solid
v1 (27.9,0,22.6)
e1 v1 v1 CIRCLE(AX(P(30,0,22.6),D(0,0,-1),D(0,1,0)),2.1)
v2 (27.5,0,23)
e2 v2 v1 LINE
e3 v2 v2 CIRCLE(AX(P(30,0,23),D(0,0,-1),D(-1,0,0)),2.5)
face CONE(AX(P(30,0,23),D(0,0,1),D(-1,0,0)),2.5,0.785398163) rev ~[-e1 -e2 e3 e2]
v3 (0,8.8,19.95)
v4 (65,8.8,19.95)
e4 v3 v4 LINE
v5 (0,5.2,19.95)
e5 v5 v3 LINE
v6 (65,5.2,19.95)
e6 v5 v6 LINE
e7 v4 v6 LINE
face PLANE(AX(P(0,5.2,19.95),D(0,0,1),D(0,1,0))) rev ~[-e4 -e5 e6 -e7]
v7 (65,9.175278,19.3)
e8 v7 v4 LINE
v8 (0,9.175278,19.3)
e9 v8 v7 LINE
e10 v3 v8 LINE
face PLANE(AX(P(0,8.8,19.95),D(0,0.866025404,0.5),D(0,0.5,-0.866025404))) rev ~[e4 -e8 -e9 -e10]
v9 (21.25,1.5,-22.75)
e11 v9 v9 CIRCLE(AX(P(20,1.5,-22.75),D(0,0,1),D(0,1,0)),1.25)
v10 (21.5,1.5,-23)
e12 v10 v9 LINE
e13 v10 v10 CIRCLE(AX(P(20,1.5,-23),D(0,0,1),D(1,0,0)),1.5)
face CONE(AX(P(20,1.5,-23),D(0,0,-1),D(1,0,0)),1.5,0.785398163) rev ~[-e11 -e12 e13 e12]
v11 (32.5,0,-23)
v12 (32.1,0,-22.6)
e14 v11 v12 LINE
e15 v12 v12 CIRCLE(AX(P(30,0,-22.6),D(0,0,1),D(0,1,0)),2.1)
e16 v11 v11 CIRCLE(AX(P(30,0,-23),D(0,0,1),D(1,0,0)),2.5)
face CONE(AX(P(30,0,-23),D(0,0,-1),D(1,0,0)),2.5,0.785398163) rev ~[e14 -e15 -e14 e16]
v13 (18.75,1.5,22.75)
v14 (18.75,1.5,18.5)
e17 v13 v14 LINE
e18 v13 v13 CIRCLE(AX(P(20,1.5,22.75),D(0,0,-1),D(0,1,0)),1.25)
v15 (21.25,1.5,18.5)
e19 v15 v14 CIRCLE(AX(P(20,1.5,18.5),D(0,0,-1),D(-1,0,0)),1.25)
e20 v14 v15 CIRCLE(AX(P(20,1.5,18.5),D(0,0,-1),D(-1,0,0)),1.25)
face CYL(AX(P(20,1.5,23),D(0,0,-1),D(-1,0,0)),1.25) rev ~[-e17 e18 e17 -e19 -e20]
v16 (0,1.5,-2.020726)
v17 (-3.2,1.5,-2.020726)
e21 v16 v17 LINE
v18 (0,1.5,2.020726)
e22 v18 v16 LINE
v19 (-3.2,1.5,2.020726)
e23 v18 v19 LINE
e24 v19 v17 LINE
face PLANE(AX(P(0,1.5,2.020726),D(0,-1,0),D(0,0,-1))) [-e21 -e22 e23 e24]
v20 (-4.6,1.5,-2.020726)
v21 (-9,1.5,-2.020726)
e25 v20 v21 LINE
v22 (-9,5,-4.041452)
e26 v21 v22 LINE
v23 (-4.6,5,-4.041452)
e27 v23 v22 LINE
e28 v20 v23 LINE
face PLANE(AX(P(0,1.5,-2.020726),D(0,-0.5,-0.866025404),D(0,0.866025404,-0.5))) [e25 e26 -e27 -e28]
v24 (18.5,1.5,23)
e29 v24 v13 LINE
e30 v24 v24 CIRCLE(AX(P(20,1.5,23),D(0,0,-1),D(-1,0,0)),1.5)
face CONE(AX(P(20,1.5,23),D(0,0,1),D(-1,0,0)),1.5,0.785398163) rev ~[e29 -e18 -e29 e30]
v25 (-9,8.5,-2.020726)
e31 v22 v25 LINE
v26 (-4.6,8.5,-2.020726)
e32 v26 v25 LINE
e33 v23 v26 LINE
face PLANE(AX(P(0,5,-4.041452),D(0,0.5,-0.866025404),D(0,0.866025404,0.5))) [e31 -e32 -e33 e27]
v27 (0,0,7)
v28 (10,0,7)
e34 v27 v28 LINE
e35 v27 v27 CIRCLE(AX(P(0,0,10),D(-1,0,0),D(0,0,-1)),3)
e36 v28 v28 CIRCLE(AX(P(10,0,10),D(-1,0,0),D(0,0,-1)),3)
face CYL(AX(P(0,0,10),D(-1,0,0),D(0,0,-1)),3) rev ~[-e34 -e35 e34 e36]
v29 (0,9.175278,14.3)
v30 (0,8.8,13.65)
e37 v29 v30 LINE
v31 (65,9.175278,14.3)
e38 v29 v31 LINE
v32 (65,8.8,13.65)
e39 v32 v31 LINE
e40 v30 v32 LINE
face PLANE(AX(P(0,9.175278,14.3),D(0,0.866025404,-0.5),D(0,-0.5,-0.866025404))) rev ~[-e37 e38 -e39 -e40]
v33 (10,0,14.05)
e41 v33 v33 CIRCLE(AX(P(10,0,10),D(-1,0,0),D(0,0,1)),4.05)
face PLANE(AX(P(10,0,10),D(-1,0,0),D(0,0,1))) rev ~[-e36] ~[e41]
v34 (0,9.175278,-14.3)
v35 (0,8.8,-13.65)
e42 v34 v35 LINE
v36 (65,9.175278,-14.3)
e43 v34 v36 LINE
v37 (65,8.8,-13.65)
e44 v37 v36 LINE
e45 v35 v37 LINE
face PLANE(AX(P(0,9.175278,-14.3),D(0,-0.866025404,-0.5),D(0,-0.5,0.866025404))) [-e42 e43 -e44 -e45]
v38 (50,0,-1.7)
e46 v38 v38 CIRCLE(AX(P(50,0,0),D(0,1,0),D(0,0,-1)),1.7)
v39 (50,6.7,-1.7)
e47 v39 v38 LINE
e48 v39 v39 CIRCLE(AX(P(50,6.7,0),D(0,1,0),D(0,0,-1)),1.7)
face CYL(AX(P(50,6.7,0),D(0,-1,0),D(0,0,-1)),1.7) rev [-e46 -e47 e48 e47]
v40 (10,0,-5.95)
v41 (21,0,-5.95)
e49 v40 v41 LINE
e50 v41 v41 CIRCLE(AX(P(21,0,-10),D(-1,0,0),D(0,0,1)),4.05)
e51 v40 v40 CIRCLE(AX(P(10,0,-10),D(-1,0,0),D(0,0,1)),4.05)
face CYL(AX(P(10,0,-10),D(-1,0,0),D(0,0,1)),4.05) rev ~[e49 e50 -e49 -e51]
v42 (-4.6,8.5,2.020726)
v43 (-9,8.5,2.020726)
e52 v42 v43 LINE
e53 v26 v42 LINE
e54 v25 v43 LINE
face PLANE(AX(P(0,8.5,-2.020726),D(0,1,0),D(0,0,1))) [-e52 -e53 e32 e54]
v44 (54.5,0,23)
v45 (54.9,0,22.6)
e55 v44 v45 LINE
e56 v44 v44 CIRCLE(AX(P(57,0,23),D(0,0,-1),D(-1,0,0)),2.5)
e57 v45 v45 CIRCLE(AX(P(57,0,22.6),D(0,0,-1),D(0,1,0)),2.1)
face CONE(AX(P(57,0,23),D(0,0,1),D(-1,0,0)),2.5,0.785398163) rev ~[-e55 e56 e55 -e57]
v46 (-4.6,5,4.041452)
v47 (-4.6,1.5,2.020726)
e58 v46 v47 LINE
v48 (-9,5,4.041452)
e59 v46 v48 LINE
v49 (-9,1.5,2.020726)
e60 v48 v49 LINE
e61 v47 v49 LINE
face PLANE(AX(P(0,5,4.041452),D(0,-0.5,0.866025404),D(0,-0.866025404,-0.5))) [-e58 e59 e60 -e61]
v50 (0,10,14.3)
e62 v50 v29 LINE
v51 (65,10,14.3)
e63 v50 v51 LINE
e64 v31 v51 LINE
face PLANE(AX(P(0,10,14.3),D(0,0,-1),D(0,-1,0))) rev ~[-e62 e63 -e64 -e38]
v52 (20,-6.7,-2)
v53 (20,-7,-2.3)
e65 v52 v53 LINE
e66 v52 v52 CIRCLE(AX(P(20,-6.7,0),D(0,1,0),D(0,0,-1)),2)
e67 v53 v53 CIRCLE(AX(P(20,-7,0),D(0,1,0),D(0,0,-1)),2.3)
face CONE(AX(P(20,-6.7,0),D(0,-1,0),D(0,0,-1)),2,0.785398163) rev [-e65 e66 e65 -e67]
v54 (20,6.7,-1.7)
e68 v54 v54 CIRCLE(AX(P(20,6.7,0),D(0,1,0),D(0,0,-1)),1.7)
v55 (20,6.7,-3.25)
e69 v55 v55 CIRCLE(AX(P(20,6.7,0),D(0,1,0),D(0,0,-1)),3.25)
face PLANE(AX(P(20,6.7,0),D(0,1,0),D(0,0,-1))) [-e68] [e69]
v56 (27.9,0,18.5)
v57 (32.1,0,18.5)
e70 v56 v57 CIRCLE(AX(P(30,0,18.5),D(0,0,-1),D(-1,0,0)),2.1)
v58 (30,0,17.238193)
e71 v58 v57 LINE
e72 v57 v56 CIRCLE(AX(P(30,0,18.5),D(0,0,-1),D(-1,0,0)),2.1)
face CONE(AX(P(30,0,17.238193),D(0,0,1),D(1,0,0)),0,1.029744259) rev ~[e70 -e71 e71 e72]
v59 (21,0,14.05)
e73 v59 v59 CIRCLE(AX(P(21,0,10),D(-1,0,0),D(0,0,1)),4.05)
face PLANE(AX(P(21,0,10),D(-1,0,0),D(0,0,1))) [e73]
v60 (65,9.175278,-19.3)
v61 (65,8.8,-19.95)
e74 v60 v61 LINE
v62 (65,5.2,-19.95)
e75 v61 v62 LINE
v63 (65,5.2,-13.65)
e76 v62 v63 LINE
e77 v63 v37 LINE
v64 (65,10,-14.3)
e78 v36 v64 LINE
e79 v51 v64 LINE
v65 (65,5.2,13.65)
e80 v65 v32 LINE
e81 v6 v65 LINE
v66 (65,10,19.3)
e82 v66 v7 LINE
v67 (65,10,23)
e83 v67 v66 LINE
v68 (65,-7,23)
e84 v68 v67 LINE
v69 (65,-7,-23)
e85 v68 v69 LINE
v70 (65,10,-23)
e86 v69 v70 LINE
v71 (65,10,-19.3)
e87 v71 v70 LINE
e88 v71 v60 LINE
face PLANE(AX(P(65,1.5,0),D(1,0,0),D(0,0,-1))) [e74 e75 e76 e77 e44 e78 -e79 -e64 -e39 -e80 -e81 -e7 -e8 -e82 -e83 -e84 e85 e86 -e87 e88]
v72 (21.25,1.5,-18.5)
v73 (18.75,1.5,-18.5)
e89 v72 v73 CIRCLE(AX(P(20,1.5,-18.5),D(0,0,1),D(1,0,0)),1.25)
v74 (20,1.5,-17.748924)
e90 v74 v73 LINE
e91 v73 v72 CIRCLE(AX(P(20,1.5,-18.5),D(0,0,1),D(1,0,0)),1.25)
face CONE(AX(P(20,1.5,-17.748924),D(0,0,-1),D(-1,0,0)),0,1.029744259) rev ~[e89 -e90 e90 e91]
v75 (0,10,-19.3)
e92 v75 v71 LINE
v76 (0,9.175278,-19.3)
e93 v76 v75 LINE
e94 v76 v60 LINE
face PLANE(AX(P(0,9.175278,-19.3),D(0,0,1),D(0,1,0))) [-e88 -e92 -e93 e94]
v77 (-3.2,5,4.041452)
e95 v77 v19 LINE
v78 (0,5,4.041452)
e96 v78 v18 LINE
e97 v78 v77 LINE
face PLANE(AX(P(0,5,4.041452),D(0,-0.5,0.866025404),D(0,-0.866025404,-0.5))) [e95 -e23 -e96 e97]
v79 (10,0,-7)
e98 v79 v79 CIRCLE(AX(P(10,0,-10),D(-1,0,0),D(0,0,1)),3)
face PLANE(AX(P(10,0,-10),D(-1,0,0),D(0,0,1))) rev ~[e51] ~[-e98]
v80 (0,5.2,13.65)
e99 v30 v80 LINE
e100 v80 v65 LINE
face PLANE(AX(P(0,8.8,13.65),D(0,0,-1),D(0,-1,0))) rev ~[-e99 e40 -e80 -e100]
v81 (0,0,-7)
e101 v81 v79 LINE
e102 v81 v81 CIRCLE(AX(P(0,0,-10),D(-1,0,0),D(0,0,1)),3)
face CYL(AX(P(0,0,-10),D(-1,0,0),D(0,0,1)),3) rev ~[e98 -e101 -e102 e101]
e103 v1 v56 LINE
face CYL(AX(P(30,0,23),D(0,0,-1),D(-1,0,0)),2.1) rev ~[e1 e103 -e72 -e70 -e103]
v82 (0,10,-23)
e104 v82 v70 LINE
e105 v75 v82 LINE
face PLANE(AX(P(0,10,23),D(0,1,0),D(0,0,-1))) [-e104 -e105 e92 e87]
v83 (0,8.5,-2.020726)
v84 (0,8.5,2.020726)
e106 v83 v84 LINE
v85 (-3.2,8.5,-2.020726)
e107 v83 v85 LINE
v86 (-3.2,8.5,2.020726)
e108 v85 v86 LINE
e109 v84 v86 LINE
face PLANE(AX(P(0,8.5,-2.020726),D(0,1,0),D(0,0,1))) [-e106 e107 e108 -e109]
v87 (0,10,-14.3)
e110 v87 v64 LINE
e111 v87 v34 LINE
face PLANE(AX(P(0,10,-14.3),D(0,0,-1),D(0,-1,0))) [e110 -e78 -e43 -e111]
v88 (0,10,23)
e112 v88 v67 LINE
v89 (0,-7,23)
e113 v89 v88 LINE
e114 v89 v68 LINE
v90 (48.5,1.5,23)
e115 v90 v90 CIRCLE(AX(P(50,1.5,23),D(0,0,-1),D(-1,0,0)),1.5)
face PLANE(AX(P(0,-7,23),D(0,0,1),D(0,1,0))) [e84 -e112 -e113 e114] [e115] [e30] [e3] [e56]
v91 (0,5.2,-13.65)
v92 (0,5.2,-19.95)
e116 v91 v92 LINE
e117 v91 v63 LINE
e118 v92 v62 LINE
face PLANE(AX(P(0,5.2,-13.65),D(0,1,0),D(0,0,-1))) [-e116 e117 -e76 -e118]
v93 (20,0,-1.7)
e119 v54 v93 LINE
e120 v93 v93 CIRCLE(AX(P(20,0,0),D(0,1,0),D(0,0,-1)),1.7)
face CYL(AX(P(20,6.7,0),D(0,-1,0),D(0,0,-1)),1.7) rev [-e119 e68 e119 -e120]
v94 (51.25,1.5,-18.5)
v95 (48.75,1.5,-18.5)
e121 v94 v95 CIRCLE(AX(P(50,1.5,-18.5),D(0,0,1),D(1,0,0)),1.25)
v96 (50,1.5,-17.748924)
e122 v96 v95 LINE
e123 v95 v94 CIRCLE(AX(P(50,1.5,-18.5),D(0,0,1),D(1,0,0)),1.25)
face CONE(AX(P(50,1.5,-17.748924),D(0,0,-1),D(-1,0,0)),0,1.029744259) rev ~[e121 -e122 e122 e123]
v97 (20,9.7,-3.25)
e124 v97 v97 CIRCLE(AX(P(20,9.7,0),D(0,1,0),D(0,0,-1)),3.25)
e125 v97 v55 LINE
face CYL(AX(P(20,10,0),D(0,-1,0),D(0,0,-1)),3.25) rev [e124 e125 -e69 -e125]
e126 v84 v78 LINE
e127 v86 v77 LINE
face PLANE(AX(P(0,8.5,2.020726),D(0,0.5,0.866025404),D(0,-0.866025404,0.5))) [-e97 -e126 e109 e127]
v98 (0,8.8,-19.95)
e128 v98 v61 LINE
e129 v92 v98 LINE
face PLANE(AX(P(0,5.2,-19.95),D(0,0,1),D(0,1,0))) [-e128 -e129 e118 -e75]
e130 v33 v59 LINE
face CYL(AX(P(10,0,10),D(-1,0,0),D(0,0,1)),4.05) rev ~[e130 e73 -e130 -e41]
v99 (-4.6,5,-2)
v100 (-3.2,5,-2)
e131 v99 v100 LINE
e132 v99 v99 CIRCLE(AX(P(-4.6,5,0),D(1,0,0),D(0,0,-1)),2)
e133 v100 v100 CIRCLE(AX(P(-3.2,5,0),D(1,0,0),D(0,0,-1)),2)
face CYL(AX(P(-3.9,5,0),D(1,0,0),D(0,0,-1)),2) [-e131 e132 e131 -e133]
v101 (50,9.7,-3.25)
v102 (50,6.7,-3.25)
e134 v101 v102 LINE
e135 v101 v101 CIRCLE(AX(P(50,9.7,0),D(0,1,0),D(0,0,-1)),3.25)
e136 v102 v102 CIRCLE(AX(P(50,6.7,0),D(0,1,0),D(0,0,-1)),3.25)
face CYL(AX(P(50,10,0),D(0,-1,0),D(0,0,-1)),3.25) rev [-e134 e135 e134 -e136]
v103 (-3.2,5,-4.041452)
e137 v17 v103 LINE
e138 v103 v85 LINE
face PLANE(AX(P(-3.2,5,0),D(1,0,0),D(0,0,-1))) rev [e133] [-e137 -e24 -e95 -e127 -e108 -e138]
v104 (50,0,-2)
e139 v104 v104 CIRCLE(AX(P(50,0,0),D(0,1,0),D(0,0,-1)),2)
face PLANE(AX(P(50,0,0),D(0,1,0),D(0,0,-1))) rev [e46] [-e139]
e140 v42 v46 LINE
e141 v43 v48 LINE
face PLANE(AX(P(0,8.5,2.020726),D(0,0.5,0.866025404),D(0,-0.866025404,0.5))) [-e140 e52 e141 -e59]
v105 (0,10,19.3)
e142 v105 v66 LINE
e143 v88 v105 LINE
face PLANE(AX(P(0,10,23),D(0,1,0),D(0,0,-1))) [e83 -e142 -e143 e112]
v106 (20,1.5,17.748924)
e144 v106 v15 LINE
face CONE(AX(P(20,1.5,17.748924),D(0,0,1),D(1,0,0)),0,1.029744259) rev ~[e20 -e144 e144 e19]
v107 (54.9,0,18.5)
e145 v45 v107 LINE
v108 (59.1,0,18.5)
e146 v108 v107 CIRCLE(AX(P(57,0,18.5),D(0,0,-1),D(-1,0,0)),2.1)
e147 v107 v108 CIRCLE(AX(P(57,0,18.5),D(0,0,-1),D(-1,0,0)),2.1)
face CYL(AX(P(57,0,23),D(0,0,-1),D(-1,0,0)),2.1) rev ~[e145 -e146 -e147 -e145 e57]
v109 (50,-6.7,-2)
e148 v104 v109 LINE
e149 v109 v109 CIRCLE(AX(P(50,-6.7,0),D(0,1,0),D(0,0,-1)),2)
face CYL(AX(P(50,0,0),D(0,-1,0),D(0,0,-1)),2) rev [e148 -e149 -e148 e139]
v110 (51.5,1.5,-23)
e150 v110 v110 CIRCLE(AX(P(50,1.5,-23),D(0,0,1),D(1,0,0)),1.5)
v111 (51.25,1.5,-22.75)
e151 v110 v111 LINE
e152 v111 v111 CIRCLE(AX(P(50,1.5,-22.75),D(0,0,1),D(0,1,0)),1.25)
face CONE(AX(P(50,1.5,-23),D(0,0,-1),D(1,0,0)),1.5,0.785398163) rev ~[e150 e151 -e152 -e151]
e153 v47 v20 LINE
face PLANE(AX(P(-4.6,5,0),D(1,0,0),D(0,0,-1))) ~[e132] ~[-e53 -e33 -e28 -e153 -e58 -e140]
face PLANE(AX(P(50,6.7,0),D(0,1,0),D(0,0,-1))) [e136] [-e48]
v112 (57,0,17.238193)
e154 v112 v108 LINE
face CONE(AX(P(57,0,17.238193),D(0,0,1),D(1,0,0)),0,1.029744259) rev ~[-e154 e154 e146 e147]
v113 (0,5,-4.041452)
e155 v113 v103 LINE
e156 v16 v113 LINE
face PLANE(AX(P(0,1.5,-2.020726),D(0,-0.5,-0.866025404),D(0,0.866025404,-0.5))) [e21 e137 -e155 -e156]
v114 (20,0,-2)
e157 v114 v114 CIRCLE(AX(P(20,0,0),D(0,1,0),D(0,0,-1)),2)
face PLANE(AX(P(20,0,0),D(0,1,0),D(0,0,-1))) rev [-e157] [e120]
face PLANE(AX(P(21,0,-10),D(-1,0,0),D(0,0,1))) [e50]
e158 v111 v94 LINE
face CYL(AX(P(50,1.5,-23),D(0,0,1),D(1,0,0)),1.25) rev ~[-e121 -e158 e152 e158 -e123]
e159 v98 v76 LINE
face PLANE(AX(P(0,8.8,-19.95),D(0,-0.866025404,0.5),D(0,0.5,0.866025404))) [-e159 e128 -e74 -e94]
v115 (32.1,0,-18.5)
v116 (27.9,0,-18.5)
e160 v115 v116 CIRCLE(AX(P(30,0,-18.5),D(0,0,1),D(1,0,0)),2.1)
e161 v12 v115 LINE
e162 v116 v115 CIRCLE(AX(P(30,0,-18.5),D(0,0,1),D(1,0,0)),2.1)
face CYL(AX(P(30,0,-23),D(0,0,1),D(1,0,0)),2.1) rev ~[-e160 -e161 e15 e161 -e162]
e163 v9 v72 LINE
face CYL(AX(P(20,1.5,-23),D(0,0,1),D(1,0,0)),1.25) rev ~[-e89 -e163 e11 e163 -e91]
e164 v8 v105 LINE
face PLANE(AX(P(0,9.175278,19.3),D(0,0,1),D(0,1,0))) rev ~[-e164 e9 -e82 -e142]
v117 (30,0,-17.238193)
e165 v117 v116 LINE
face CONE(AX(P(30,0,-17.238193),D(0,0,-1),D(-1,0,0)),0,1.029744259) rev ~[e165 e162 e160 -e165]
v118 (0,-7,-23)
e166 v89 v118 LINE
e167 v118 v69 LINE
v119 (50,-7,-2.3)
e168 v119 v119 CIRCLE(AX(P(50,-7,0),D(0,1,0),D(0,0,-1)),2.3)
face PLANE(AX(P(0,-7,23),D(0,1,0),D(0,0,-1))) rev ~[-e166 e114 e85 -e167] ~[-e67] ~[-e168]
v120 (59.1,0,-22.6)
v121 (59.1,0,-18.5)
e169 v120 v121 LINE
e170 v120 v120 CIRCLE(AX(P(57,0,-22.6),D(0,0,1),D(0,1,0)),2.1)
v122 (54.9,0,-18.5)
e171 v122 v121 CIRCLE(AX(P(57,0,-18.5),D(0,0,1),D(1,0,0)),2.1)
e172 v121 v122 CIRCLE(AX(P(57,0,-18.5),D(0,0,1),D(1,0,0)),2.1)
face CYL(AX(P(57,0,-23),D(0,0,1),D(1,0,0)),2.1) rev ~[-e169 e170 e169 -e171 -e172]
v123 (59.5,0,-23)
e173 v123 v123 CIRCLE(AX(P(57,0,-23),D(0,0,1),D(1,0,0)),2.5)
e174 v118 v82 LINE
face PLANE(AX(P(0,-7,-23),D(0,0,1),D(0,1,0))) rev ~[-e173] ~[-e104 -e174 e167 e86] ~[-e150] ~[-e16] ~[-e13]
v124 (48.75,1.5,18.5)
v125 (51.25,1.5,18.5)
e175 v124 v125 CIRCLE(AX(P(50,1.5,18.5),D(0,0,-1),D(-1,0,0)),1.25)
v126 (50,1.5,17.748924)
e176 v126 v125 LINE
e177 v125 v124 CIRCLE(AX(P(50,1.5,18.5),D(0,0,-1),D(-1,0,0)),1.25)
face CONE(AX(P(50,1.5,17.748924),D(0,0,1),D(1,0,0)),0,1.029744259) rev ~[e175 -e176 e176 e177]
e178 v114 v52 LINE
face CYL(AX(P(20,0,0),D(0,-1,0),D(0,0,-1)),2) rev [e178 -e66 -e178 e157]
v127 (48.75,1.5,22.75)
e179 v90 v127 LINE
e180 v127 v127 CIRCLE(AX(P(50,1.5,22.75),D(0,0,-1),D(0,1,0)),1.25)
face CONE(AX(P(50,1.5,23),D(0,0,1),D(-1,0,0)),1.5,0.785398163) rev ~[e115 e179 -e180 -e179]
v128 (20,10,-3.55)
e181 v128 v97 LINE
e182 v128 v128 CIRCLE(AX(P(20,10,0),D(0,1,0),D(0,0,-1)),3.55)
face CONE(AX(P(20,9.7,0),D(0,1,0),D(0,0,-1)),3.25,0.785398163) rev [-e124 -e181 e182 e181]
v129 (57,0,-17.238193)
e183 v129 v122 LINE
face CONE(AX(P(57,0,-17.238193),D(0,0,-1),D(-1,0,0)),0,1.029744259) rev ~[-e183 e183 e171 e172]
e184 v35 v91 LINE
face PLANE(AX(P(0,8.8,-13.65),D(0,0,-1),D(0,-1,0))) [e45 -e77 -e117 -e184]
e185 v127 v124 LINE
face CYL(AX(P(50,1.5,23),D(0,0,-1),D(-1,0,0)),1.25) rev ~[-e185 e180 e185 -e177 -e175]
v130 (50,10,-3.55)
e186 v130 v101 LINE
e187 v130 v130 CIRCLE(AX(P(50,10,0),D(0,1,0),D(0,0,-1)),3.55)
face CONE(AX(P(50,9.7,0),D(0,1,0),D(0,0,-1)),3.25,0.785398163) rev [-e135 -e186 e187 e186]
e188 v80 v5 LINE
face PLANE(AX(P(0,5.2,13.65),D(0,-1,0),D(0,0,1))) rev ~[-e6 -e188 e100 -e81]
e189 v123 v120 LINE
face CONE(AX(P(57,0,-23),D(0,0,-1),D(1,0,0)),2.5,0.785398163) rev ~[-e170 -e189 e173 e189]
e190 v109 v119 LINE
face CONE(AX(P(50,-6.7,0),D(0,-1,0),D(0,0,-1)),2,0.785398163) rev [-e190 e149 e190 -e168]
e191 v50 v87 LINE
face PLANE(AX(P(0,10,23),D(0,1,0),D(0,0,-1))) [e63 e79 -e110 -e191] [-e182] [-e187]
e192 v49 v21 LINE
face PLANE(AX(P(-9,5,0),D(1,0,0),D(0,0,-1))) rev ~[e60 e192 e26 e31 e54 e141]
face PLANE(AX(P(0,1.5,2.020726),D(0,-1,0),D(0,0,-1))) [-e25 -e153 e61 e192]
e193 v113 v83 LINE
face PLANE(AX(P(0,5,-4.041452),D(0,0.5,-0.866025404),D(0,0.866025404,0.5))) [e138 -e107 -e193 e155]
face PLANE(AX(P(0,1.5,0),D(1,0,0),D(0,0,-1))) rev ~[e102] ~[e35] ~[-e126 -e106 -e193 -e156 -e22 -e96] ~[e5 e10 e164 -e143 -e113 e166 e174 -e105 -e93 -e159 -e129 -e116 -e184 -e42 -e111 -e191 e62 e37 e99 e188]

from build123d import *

# Parameters (mm, degrees)
BODY_SKETCH_W                                = 46
BODY_SKETCH_H                                = 17
BODY_DEPTH                                   = 65
BODY_ROD_HOLES_SKETCH_R                      = 3
BODY_ROD_HOLES_DEPTH                         = 10
BODY_PISTON_HOLES_SKETCH_R                   = 4.05
BODY_PISTON_HOLES_DEPTH                      = 11
TOP_SWITCH_GROOVES_DEPTH                     = 70.670653793
SHCS_MGT_HOLE_CHAM_SIZE                      = 0.3
SHCS_MGT_HOLE_PAT_COUNT                      = 2
SHCS_MGT_HOLE_PAT_PITCH                      = 30
SHCS_MGT_HOLE_CHAM_OF_SHCS_MGT_HOLE_PAT_SIZE = 0.3
SHCS_MGT_HOLE_BOT_TAP_AT_2_COUNT             = 2
SHCS_MGT_HOLE_BOT_TAP_AT_2_PITCH             = 30
ADJUSTER_NUT_DEPTH                           = 9
ADJUSTER_NUT_THREADS_SKETCH_W                = 1.4
ADJUSTER_NUT_THREADS_SKETCH_H                = 17
TAP_DRILL_FOR_M5X0_8_TAP1_D                  = 4.2
TAP_DRILL_FOR_M5X0_8_TAP1_DEPTH              = 4.5
TAP_DRILL_FOR_M5X0_8_TAP1_CSINK_D            = 5
TAP_DRILL_FOR_M5X0_8_TAP1_CSINK_ANGLE        = 90
TAP_DRILL_FOR_M5X0_8_TAP1_TIP                = 1.2618073
TAP_DRILL_FOR_M5X0_8_TAP2_D                  = 4.2
TAP_DRILL_FOR_M5X0_8_TAP2_DEPTH              = 4.5
TAP_DRILL_FOR_M5X0_8_TAP2_CSINK_D            = 5
TAP_DRILL_FOR_M5X0_8_TAP2_CSINK_ANGLE        = 90
TAP_DRILL_FOR_M5X0_8_TAP2_TIP                = 1.2618073
MOUNT_HOLES_1_D                              = 2.5
MOUNT_HOLES_1_DEPTH                          = 4.5
MOUNT_HOLES_1_CSINK_D                        = 3
MOUNT_HOLES_1_CSINK_ANGLE                    = 90
MOUNT_HOLES_1_TIP                            = 0.751075774
MOUNT_HOLES_2_D                              = 2.5
MOUNT_HOLES_2_DEPTH                          = 4.5
MOUNT_HOLES_2_CSINK_D                        = 3
MOUNT_HOLES_2_CSINK_ANGLE                    = 90
MOUNT_HOLES_2_TIP                            = 0.751075774


with BuildPart() as part:
    # Body_Sketch → Body (new body)
    with BuildSketch(Plane(origin=(0, 0, 0), x_dir=(0, 0, -1), z_dir=(1, 0, 0))):
        with Locations((0, 1.5)):
            Rectangle(BODY_SKETCH_W, BODY_SKETCH_H)
    extrude(amount=BODY_DEPTH)

    # Body Rod Holes_Sketch → Body Rod Holes (cut)
    with BuildSketch(Plane.ZY):
        with Locations((-10, 0)):
            Circle(BODY_ROD_HOLES_SKETCH_R)
        with Locations(Location((10, 0, 0), (0, 0, 180))):
            Circle(BODY_ROD_HOLES_SKETCH_R)
    extrude(amount=-BODY_ROD_HOLES_DEPTH, mode=Mode.SUBTRACT)

    # Body Piston Holes_Sketch → Body Piston Holes (cut)
    with BuildSketch(Plane.ZY.offset(-10)):
        with Locations((10, 0)):
            Circle(BODY_PISTON_HOLES_SKETCH_R)
        with Locations((-10, 0)):
            Circle(BODY_PISTON_HOLES_SKETCH_R)
    extrude(amount=-BODY_PISTON_HOLES_DEPTH, mode=Mode.SUBTRACT)

    # Top Switch Grooves_Sketch → Top Switch Grooves (cut, through all)
    with BuildSketch(Plane.ZY):
        Polygon((13.65, 5.2), (19.95, 5.2), (19.95, 8.8), (19.3, 9.175277675), (19.3, 10), (14.3, 10), (14.3, 9.175277675), (13.65, 8.8), align=None)
        Polygon((-13.65, 8.8), (-13.65, 5.2), (-19.95, 5.2), (-19.95, 8.8), (-19.3, 9.175277675), (-19.3, 10), (-14.3, 10), (-14.3, 9.175277675), align=None)
    extrude(amount=-TOP_SWITCH_GROOVES_DEPTH, mode=Mode.SUBTRACT)

    # SHCS MGT Hole_Sketch → SHCS MGT Hole (revolve, cut)
    with BuildSketch(Plane.XY, mode=Mode.PRIVATE) as shcs_mgt_hole_sk:
        Polygon((20, 10), (16.75, 10), (16.75, 6.7), (18.3, 6.7), (18.3, -7), (20, -7), align=None)
    shcs_mgt_hole = revolve(shcs_mgt_hole_sk.sketch.rotate(Axis((20, -11.506886035, 0), (0, 1, 0)), 270), axis=Axis((20, -11.506886035, 0), (0, 1, 0)), mode=Mode.SUBTRACT)

    # SHCS MGT Hole Cham
    shcs_mgt_hole_cham_edges = [part.edges().sort_by_distance(p)[0] for p in [
        (20, 10, 3.25),
    ]]
    chamfer(shcs_mgt_hole_cham_edges, length=SHCS_MGT_HOLE_CHAM_SIZE)

    # SHCS MGT Hole Pat: SHCS MGT Hole ×2
    with Locations(*[(i * SHCS_MGT_HOLE_PAT_PITCH, 0, 0) for i in range(1, SHCS_MGT_HOLE_PAT_COUNT)]):
        add(shcs_mgt_hole, mode=Mode.SUBTRACT)

    # SHCS MGT Hole Cham of SHCS MGT Hole Pat
    shcs_mgt_hole_cham_of_shcs_mgt_hole_pat_edges = [part.edges().sort_by_distance(p)[0] for p in [
        (50, 10, 3.25),
    ]]
    chamfer(shcs_mgt_hole_cham_of_shcs_mgt_hole_pat_edges, length=SHCS_MGT_HOLE_CHAM_OF_SHCS_MGT_HOLE_PAT_SIZE)

    # SHCS MGT Hole Bot Tap Profile → SHCS MGT Hole Bot Tap (revolve, cut)
    with BuildSketch(Plane(origin=(20, -7, 0), x_dir=(0, 0, -1), z_dir=(1, 0, 0))):
        Polygon((0, 0), (0, 9.021463052), (1.7, 8), (1.7, 7), (2, 7), (2, 0.3), (2.3, 0), align=None)
    shcs_mgt_hole_bot_tap = revolve(axis=Axis((20, -13.35, 0), (0, 1, 0)), mode=Mode.SUBTRACT)

    # SHCS MGT Hole Bot Tap at 2: SHCS MGT Hole Bot Tap ×2
    with Locations(*[(i * SHCS_MGT_HOLE_BOT_TAP_AT_2_PITCH, 0, 0) for i in range(1, SHCS_MGT_HOLE_BOT_TAP_AT_2_COUNT)]):
        add(shcs_mgt_hole_bot_tap, mode=Mode.SUBTRACT)

    # Adjuster Nut_Sketch → Adjuster Nut (add)
    with BuildSketch(Plane.ZY):
        Polygon((-2.020725942, 8.5), (2.020725942, 8.5), (4.041451884, 5), (2.020725942, 1.5), (-2.020725942, 1.5), (-4.041451884, 5), align=None)
    extrude(amount=ADJUSTER_NUT_DEPTH)

    # Adjuster Nut Threads_Sketch → Adjuster Nut Threads (revolve, cut)
    with BuildSketch(Plane.XY, mode=Mode.PRIVATE) as adjuster_nut_threads_sk:
        with Locations((-3.9, 15.5)):
            Rectangle(ADJUSTER_NUT_THREADS_SKETCH_W, ADJUSTER_NUT_THREADS_SKETCH_H)
    revolve(adjuster_nut_threads_sk.sketch.rotate(Axis((-6.476, 5, 0), (1, 0, 0)), 270), axis=Axis((-6.476, 5, 0), (1, 0, 0)), mode=Mode.SUBTRACT)

    # Tap Drill for M5x0.8 Tap1
    with Locations(Plane.XY.offset(23)):
        with Locations((30, 0), (57, 0)):
            CounterSinkHole(TAP_DRILL_FOR_M5X0_8_TAP1_D / 2, TAP_DRILL_FOR_M5X0_8_TAP1_CSINK_D / 2, depth=TAP_DRILL_FOR_M5X0_8_TAP1_DEPTH, counter_sink_angle=TAP_DRILL_FOR_M5X0_8_TAP1_CSINK_ANGLE)
            with Locations((0, 0, -(TAP_DRILL_FOR_M5X0_8_TAP1_DEPTH + TAP_DRILL_FOR_M5X0_8_TAP1_TIP / 2))):  # 118° drill point
                Cone(0, TAP_DRILL_FOR_M5X0_8_TAP1_D / 2, TAP_DRILL_FOR_M5X0_8_TAP1_TIP, mode=Mode.SUBTRACT)

    # Tap Drill for M5x0.8 Tap2
    with Locations(Plane(origin=(0, 0, -23), x_dir=(-1, 0, 0), z_dir=(0, 0, -1))):
        with Locations((-57, 0), (-30, 0)):
            CounterSinkHole(TAP_DRILL_FOR_M5X0_8_TAP2_D / 2, TAP_DRILL_FOR_M5X0_8_TAP2_CSINK_D / 2, depth=TAP_DRILL_FOR_M5X0_8_TAP2_DEPTH, counter_sink_angle=TAP_DRILL_FOR_M5X0_8_TAP2_CSINK_ANGLE)
            with Locations((0, 0, -(TAP_DRILL_FOR_M5X0_8_TAP2_DEPTH + TAP_DRILL_FOR_M5X0_8_TAP2_TIP / 2))):  # 118° drill point
                Cone(0, TAP_DRILL_FOR_M5X0_8_TAP2_D / 2, TAP_DRILL_FOR_M5X0_8_TAP2_TIP, mode=Mode.SUBTRACT)

    # Mount_Holes_1
    with Locations(Plane.XY.offset(23)):
        with Locations((20, 1.5), (50, 1.5)):
            CounterSinkHole(MOUNT_HOLES_1_D / 2, MOUNT_HOLES_1_CSINK_D / 2, depth=MOUNT_HOLES_1_DEPTH, counter_sink_angle=MOUNT_HOLES_1_CSINK_ANGLE)
            with Locations((0, 0, -(MOUNT_HOLES_1_DEPTH + MOUNT_HOLES_1_TIP / 2))):  # 118° drill point
                Cone(0, MOUNT_HOLES_1_D / 2, MOUNT_HOLES_1_TIP, mode=Mode.SUBTRACT)

    # Mount_Holes_2
    with Locations(Plane(origin=(0, 0, -23), x_dir=(-1, 0, 0), z_dir=(0, 0, -1))):
        with Locations((-50, 1.5), (-20, 1.5)):
            CounterSinkHole(MOUNT_HOLES_2_D / 2, MOUNT_HOLES_2_CSINK_D / 2, depth=MOUNT_HOLES_2_DEPTH, counter_sink_angle=MOUNT_HOLES_2_CSINK_ANGLE)
            with Locations((0, 0, -(MOUNT_HOLES_2_DEPTH + MOUNT_HOLES_2_TIP / 2))):  # 118° drill point
                Cone(0, MOUNT_HOLES_2_D / 2, MOUNT_HOLES_2_TIP, mode=Mode.SUBTRACT)


solid = part.part
